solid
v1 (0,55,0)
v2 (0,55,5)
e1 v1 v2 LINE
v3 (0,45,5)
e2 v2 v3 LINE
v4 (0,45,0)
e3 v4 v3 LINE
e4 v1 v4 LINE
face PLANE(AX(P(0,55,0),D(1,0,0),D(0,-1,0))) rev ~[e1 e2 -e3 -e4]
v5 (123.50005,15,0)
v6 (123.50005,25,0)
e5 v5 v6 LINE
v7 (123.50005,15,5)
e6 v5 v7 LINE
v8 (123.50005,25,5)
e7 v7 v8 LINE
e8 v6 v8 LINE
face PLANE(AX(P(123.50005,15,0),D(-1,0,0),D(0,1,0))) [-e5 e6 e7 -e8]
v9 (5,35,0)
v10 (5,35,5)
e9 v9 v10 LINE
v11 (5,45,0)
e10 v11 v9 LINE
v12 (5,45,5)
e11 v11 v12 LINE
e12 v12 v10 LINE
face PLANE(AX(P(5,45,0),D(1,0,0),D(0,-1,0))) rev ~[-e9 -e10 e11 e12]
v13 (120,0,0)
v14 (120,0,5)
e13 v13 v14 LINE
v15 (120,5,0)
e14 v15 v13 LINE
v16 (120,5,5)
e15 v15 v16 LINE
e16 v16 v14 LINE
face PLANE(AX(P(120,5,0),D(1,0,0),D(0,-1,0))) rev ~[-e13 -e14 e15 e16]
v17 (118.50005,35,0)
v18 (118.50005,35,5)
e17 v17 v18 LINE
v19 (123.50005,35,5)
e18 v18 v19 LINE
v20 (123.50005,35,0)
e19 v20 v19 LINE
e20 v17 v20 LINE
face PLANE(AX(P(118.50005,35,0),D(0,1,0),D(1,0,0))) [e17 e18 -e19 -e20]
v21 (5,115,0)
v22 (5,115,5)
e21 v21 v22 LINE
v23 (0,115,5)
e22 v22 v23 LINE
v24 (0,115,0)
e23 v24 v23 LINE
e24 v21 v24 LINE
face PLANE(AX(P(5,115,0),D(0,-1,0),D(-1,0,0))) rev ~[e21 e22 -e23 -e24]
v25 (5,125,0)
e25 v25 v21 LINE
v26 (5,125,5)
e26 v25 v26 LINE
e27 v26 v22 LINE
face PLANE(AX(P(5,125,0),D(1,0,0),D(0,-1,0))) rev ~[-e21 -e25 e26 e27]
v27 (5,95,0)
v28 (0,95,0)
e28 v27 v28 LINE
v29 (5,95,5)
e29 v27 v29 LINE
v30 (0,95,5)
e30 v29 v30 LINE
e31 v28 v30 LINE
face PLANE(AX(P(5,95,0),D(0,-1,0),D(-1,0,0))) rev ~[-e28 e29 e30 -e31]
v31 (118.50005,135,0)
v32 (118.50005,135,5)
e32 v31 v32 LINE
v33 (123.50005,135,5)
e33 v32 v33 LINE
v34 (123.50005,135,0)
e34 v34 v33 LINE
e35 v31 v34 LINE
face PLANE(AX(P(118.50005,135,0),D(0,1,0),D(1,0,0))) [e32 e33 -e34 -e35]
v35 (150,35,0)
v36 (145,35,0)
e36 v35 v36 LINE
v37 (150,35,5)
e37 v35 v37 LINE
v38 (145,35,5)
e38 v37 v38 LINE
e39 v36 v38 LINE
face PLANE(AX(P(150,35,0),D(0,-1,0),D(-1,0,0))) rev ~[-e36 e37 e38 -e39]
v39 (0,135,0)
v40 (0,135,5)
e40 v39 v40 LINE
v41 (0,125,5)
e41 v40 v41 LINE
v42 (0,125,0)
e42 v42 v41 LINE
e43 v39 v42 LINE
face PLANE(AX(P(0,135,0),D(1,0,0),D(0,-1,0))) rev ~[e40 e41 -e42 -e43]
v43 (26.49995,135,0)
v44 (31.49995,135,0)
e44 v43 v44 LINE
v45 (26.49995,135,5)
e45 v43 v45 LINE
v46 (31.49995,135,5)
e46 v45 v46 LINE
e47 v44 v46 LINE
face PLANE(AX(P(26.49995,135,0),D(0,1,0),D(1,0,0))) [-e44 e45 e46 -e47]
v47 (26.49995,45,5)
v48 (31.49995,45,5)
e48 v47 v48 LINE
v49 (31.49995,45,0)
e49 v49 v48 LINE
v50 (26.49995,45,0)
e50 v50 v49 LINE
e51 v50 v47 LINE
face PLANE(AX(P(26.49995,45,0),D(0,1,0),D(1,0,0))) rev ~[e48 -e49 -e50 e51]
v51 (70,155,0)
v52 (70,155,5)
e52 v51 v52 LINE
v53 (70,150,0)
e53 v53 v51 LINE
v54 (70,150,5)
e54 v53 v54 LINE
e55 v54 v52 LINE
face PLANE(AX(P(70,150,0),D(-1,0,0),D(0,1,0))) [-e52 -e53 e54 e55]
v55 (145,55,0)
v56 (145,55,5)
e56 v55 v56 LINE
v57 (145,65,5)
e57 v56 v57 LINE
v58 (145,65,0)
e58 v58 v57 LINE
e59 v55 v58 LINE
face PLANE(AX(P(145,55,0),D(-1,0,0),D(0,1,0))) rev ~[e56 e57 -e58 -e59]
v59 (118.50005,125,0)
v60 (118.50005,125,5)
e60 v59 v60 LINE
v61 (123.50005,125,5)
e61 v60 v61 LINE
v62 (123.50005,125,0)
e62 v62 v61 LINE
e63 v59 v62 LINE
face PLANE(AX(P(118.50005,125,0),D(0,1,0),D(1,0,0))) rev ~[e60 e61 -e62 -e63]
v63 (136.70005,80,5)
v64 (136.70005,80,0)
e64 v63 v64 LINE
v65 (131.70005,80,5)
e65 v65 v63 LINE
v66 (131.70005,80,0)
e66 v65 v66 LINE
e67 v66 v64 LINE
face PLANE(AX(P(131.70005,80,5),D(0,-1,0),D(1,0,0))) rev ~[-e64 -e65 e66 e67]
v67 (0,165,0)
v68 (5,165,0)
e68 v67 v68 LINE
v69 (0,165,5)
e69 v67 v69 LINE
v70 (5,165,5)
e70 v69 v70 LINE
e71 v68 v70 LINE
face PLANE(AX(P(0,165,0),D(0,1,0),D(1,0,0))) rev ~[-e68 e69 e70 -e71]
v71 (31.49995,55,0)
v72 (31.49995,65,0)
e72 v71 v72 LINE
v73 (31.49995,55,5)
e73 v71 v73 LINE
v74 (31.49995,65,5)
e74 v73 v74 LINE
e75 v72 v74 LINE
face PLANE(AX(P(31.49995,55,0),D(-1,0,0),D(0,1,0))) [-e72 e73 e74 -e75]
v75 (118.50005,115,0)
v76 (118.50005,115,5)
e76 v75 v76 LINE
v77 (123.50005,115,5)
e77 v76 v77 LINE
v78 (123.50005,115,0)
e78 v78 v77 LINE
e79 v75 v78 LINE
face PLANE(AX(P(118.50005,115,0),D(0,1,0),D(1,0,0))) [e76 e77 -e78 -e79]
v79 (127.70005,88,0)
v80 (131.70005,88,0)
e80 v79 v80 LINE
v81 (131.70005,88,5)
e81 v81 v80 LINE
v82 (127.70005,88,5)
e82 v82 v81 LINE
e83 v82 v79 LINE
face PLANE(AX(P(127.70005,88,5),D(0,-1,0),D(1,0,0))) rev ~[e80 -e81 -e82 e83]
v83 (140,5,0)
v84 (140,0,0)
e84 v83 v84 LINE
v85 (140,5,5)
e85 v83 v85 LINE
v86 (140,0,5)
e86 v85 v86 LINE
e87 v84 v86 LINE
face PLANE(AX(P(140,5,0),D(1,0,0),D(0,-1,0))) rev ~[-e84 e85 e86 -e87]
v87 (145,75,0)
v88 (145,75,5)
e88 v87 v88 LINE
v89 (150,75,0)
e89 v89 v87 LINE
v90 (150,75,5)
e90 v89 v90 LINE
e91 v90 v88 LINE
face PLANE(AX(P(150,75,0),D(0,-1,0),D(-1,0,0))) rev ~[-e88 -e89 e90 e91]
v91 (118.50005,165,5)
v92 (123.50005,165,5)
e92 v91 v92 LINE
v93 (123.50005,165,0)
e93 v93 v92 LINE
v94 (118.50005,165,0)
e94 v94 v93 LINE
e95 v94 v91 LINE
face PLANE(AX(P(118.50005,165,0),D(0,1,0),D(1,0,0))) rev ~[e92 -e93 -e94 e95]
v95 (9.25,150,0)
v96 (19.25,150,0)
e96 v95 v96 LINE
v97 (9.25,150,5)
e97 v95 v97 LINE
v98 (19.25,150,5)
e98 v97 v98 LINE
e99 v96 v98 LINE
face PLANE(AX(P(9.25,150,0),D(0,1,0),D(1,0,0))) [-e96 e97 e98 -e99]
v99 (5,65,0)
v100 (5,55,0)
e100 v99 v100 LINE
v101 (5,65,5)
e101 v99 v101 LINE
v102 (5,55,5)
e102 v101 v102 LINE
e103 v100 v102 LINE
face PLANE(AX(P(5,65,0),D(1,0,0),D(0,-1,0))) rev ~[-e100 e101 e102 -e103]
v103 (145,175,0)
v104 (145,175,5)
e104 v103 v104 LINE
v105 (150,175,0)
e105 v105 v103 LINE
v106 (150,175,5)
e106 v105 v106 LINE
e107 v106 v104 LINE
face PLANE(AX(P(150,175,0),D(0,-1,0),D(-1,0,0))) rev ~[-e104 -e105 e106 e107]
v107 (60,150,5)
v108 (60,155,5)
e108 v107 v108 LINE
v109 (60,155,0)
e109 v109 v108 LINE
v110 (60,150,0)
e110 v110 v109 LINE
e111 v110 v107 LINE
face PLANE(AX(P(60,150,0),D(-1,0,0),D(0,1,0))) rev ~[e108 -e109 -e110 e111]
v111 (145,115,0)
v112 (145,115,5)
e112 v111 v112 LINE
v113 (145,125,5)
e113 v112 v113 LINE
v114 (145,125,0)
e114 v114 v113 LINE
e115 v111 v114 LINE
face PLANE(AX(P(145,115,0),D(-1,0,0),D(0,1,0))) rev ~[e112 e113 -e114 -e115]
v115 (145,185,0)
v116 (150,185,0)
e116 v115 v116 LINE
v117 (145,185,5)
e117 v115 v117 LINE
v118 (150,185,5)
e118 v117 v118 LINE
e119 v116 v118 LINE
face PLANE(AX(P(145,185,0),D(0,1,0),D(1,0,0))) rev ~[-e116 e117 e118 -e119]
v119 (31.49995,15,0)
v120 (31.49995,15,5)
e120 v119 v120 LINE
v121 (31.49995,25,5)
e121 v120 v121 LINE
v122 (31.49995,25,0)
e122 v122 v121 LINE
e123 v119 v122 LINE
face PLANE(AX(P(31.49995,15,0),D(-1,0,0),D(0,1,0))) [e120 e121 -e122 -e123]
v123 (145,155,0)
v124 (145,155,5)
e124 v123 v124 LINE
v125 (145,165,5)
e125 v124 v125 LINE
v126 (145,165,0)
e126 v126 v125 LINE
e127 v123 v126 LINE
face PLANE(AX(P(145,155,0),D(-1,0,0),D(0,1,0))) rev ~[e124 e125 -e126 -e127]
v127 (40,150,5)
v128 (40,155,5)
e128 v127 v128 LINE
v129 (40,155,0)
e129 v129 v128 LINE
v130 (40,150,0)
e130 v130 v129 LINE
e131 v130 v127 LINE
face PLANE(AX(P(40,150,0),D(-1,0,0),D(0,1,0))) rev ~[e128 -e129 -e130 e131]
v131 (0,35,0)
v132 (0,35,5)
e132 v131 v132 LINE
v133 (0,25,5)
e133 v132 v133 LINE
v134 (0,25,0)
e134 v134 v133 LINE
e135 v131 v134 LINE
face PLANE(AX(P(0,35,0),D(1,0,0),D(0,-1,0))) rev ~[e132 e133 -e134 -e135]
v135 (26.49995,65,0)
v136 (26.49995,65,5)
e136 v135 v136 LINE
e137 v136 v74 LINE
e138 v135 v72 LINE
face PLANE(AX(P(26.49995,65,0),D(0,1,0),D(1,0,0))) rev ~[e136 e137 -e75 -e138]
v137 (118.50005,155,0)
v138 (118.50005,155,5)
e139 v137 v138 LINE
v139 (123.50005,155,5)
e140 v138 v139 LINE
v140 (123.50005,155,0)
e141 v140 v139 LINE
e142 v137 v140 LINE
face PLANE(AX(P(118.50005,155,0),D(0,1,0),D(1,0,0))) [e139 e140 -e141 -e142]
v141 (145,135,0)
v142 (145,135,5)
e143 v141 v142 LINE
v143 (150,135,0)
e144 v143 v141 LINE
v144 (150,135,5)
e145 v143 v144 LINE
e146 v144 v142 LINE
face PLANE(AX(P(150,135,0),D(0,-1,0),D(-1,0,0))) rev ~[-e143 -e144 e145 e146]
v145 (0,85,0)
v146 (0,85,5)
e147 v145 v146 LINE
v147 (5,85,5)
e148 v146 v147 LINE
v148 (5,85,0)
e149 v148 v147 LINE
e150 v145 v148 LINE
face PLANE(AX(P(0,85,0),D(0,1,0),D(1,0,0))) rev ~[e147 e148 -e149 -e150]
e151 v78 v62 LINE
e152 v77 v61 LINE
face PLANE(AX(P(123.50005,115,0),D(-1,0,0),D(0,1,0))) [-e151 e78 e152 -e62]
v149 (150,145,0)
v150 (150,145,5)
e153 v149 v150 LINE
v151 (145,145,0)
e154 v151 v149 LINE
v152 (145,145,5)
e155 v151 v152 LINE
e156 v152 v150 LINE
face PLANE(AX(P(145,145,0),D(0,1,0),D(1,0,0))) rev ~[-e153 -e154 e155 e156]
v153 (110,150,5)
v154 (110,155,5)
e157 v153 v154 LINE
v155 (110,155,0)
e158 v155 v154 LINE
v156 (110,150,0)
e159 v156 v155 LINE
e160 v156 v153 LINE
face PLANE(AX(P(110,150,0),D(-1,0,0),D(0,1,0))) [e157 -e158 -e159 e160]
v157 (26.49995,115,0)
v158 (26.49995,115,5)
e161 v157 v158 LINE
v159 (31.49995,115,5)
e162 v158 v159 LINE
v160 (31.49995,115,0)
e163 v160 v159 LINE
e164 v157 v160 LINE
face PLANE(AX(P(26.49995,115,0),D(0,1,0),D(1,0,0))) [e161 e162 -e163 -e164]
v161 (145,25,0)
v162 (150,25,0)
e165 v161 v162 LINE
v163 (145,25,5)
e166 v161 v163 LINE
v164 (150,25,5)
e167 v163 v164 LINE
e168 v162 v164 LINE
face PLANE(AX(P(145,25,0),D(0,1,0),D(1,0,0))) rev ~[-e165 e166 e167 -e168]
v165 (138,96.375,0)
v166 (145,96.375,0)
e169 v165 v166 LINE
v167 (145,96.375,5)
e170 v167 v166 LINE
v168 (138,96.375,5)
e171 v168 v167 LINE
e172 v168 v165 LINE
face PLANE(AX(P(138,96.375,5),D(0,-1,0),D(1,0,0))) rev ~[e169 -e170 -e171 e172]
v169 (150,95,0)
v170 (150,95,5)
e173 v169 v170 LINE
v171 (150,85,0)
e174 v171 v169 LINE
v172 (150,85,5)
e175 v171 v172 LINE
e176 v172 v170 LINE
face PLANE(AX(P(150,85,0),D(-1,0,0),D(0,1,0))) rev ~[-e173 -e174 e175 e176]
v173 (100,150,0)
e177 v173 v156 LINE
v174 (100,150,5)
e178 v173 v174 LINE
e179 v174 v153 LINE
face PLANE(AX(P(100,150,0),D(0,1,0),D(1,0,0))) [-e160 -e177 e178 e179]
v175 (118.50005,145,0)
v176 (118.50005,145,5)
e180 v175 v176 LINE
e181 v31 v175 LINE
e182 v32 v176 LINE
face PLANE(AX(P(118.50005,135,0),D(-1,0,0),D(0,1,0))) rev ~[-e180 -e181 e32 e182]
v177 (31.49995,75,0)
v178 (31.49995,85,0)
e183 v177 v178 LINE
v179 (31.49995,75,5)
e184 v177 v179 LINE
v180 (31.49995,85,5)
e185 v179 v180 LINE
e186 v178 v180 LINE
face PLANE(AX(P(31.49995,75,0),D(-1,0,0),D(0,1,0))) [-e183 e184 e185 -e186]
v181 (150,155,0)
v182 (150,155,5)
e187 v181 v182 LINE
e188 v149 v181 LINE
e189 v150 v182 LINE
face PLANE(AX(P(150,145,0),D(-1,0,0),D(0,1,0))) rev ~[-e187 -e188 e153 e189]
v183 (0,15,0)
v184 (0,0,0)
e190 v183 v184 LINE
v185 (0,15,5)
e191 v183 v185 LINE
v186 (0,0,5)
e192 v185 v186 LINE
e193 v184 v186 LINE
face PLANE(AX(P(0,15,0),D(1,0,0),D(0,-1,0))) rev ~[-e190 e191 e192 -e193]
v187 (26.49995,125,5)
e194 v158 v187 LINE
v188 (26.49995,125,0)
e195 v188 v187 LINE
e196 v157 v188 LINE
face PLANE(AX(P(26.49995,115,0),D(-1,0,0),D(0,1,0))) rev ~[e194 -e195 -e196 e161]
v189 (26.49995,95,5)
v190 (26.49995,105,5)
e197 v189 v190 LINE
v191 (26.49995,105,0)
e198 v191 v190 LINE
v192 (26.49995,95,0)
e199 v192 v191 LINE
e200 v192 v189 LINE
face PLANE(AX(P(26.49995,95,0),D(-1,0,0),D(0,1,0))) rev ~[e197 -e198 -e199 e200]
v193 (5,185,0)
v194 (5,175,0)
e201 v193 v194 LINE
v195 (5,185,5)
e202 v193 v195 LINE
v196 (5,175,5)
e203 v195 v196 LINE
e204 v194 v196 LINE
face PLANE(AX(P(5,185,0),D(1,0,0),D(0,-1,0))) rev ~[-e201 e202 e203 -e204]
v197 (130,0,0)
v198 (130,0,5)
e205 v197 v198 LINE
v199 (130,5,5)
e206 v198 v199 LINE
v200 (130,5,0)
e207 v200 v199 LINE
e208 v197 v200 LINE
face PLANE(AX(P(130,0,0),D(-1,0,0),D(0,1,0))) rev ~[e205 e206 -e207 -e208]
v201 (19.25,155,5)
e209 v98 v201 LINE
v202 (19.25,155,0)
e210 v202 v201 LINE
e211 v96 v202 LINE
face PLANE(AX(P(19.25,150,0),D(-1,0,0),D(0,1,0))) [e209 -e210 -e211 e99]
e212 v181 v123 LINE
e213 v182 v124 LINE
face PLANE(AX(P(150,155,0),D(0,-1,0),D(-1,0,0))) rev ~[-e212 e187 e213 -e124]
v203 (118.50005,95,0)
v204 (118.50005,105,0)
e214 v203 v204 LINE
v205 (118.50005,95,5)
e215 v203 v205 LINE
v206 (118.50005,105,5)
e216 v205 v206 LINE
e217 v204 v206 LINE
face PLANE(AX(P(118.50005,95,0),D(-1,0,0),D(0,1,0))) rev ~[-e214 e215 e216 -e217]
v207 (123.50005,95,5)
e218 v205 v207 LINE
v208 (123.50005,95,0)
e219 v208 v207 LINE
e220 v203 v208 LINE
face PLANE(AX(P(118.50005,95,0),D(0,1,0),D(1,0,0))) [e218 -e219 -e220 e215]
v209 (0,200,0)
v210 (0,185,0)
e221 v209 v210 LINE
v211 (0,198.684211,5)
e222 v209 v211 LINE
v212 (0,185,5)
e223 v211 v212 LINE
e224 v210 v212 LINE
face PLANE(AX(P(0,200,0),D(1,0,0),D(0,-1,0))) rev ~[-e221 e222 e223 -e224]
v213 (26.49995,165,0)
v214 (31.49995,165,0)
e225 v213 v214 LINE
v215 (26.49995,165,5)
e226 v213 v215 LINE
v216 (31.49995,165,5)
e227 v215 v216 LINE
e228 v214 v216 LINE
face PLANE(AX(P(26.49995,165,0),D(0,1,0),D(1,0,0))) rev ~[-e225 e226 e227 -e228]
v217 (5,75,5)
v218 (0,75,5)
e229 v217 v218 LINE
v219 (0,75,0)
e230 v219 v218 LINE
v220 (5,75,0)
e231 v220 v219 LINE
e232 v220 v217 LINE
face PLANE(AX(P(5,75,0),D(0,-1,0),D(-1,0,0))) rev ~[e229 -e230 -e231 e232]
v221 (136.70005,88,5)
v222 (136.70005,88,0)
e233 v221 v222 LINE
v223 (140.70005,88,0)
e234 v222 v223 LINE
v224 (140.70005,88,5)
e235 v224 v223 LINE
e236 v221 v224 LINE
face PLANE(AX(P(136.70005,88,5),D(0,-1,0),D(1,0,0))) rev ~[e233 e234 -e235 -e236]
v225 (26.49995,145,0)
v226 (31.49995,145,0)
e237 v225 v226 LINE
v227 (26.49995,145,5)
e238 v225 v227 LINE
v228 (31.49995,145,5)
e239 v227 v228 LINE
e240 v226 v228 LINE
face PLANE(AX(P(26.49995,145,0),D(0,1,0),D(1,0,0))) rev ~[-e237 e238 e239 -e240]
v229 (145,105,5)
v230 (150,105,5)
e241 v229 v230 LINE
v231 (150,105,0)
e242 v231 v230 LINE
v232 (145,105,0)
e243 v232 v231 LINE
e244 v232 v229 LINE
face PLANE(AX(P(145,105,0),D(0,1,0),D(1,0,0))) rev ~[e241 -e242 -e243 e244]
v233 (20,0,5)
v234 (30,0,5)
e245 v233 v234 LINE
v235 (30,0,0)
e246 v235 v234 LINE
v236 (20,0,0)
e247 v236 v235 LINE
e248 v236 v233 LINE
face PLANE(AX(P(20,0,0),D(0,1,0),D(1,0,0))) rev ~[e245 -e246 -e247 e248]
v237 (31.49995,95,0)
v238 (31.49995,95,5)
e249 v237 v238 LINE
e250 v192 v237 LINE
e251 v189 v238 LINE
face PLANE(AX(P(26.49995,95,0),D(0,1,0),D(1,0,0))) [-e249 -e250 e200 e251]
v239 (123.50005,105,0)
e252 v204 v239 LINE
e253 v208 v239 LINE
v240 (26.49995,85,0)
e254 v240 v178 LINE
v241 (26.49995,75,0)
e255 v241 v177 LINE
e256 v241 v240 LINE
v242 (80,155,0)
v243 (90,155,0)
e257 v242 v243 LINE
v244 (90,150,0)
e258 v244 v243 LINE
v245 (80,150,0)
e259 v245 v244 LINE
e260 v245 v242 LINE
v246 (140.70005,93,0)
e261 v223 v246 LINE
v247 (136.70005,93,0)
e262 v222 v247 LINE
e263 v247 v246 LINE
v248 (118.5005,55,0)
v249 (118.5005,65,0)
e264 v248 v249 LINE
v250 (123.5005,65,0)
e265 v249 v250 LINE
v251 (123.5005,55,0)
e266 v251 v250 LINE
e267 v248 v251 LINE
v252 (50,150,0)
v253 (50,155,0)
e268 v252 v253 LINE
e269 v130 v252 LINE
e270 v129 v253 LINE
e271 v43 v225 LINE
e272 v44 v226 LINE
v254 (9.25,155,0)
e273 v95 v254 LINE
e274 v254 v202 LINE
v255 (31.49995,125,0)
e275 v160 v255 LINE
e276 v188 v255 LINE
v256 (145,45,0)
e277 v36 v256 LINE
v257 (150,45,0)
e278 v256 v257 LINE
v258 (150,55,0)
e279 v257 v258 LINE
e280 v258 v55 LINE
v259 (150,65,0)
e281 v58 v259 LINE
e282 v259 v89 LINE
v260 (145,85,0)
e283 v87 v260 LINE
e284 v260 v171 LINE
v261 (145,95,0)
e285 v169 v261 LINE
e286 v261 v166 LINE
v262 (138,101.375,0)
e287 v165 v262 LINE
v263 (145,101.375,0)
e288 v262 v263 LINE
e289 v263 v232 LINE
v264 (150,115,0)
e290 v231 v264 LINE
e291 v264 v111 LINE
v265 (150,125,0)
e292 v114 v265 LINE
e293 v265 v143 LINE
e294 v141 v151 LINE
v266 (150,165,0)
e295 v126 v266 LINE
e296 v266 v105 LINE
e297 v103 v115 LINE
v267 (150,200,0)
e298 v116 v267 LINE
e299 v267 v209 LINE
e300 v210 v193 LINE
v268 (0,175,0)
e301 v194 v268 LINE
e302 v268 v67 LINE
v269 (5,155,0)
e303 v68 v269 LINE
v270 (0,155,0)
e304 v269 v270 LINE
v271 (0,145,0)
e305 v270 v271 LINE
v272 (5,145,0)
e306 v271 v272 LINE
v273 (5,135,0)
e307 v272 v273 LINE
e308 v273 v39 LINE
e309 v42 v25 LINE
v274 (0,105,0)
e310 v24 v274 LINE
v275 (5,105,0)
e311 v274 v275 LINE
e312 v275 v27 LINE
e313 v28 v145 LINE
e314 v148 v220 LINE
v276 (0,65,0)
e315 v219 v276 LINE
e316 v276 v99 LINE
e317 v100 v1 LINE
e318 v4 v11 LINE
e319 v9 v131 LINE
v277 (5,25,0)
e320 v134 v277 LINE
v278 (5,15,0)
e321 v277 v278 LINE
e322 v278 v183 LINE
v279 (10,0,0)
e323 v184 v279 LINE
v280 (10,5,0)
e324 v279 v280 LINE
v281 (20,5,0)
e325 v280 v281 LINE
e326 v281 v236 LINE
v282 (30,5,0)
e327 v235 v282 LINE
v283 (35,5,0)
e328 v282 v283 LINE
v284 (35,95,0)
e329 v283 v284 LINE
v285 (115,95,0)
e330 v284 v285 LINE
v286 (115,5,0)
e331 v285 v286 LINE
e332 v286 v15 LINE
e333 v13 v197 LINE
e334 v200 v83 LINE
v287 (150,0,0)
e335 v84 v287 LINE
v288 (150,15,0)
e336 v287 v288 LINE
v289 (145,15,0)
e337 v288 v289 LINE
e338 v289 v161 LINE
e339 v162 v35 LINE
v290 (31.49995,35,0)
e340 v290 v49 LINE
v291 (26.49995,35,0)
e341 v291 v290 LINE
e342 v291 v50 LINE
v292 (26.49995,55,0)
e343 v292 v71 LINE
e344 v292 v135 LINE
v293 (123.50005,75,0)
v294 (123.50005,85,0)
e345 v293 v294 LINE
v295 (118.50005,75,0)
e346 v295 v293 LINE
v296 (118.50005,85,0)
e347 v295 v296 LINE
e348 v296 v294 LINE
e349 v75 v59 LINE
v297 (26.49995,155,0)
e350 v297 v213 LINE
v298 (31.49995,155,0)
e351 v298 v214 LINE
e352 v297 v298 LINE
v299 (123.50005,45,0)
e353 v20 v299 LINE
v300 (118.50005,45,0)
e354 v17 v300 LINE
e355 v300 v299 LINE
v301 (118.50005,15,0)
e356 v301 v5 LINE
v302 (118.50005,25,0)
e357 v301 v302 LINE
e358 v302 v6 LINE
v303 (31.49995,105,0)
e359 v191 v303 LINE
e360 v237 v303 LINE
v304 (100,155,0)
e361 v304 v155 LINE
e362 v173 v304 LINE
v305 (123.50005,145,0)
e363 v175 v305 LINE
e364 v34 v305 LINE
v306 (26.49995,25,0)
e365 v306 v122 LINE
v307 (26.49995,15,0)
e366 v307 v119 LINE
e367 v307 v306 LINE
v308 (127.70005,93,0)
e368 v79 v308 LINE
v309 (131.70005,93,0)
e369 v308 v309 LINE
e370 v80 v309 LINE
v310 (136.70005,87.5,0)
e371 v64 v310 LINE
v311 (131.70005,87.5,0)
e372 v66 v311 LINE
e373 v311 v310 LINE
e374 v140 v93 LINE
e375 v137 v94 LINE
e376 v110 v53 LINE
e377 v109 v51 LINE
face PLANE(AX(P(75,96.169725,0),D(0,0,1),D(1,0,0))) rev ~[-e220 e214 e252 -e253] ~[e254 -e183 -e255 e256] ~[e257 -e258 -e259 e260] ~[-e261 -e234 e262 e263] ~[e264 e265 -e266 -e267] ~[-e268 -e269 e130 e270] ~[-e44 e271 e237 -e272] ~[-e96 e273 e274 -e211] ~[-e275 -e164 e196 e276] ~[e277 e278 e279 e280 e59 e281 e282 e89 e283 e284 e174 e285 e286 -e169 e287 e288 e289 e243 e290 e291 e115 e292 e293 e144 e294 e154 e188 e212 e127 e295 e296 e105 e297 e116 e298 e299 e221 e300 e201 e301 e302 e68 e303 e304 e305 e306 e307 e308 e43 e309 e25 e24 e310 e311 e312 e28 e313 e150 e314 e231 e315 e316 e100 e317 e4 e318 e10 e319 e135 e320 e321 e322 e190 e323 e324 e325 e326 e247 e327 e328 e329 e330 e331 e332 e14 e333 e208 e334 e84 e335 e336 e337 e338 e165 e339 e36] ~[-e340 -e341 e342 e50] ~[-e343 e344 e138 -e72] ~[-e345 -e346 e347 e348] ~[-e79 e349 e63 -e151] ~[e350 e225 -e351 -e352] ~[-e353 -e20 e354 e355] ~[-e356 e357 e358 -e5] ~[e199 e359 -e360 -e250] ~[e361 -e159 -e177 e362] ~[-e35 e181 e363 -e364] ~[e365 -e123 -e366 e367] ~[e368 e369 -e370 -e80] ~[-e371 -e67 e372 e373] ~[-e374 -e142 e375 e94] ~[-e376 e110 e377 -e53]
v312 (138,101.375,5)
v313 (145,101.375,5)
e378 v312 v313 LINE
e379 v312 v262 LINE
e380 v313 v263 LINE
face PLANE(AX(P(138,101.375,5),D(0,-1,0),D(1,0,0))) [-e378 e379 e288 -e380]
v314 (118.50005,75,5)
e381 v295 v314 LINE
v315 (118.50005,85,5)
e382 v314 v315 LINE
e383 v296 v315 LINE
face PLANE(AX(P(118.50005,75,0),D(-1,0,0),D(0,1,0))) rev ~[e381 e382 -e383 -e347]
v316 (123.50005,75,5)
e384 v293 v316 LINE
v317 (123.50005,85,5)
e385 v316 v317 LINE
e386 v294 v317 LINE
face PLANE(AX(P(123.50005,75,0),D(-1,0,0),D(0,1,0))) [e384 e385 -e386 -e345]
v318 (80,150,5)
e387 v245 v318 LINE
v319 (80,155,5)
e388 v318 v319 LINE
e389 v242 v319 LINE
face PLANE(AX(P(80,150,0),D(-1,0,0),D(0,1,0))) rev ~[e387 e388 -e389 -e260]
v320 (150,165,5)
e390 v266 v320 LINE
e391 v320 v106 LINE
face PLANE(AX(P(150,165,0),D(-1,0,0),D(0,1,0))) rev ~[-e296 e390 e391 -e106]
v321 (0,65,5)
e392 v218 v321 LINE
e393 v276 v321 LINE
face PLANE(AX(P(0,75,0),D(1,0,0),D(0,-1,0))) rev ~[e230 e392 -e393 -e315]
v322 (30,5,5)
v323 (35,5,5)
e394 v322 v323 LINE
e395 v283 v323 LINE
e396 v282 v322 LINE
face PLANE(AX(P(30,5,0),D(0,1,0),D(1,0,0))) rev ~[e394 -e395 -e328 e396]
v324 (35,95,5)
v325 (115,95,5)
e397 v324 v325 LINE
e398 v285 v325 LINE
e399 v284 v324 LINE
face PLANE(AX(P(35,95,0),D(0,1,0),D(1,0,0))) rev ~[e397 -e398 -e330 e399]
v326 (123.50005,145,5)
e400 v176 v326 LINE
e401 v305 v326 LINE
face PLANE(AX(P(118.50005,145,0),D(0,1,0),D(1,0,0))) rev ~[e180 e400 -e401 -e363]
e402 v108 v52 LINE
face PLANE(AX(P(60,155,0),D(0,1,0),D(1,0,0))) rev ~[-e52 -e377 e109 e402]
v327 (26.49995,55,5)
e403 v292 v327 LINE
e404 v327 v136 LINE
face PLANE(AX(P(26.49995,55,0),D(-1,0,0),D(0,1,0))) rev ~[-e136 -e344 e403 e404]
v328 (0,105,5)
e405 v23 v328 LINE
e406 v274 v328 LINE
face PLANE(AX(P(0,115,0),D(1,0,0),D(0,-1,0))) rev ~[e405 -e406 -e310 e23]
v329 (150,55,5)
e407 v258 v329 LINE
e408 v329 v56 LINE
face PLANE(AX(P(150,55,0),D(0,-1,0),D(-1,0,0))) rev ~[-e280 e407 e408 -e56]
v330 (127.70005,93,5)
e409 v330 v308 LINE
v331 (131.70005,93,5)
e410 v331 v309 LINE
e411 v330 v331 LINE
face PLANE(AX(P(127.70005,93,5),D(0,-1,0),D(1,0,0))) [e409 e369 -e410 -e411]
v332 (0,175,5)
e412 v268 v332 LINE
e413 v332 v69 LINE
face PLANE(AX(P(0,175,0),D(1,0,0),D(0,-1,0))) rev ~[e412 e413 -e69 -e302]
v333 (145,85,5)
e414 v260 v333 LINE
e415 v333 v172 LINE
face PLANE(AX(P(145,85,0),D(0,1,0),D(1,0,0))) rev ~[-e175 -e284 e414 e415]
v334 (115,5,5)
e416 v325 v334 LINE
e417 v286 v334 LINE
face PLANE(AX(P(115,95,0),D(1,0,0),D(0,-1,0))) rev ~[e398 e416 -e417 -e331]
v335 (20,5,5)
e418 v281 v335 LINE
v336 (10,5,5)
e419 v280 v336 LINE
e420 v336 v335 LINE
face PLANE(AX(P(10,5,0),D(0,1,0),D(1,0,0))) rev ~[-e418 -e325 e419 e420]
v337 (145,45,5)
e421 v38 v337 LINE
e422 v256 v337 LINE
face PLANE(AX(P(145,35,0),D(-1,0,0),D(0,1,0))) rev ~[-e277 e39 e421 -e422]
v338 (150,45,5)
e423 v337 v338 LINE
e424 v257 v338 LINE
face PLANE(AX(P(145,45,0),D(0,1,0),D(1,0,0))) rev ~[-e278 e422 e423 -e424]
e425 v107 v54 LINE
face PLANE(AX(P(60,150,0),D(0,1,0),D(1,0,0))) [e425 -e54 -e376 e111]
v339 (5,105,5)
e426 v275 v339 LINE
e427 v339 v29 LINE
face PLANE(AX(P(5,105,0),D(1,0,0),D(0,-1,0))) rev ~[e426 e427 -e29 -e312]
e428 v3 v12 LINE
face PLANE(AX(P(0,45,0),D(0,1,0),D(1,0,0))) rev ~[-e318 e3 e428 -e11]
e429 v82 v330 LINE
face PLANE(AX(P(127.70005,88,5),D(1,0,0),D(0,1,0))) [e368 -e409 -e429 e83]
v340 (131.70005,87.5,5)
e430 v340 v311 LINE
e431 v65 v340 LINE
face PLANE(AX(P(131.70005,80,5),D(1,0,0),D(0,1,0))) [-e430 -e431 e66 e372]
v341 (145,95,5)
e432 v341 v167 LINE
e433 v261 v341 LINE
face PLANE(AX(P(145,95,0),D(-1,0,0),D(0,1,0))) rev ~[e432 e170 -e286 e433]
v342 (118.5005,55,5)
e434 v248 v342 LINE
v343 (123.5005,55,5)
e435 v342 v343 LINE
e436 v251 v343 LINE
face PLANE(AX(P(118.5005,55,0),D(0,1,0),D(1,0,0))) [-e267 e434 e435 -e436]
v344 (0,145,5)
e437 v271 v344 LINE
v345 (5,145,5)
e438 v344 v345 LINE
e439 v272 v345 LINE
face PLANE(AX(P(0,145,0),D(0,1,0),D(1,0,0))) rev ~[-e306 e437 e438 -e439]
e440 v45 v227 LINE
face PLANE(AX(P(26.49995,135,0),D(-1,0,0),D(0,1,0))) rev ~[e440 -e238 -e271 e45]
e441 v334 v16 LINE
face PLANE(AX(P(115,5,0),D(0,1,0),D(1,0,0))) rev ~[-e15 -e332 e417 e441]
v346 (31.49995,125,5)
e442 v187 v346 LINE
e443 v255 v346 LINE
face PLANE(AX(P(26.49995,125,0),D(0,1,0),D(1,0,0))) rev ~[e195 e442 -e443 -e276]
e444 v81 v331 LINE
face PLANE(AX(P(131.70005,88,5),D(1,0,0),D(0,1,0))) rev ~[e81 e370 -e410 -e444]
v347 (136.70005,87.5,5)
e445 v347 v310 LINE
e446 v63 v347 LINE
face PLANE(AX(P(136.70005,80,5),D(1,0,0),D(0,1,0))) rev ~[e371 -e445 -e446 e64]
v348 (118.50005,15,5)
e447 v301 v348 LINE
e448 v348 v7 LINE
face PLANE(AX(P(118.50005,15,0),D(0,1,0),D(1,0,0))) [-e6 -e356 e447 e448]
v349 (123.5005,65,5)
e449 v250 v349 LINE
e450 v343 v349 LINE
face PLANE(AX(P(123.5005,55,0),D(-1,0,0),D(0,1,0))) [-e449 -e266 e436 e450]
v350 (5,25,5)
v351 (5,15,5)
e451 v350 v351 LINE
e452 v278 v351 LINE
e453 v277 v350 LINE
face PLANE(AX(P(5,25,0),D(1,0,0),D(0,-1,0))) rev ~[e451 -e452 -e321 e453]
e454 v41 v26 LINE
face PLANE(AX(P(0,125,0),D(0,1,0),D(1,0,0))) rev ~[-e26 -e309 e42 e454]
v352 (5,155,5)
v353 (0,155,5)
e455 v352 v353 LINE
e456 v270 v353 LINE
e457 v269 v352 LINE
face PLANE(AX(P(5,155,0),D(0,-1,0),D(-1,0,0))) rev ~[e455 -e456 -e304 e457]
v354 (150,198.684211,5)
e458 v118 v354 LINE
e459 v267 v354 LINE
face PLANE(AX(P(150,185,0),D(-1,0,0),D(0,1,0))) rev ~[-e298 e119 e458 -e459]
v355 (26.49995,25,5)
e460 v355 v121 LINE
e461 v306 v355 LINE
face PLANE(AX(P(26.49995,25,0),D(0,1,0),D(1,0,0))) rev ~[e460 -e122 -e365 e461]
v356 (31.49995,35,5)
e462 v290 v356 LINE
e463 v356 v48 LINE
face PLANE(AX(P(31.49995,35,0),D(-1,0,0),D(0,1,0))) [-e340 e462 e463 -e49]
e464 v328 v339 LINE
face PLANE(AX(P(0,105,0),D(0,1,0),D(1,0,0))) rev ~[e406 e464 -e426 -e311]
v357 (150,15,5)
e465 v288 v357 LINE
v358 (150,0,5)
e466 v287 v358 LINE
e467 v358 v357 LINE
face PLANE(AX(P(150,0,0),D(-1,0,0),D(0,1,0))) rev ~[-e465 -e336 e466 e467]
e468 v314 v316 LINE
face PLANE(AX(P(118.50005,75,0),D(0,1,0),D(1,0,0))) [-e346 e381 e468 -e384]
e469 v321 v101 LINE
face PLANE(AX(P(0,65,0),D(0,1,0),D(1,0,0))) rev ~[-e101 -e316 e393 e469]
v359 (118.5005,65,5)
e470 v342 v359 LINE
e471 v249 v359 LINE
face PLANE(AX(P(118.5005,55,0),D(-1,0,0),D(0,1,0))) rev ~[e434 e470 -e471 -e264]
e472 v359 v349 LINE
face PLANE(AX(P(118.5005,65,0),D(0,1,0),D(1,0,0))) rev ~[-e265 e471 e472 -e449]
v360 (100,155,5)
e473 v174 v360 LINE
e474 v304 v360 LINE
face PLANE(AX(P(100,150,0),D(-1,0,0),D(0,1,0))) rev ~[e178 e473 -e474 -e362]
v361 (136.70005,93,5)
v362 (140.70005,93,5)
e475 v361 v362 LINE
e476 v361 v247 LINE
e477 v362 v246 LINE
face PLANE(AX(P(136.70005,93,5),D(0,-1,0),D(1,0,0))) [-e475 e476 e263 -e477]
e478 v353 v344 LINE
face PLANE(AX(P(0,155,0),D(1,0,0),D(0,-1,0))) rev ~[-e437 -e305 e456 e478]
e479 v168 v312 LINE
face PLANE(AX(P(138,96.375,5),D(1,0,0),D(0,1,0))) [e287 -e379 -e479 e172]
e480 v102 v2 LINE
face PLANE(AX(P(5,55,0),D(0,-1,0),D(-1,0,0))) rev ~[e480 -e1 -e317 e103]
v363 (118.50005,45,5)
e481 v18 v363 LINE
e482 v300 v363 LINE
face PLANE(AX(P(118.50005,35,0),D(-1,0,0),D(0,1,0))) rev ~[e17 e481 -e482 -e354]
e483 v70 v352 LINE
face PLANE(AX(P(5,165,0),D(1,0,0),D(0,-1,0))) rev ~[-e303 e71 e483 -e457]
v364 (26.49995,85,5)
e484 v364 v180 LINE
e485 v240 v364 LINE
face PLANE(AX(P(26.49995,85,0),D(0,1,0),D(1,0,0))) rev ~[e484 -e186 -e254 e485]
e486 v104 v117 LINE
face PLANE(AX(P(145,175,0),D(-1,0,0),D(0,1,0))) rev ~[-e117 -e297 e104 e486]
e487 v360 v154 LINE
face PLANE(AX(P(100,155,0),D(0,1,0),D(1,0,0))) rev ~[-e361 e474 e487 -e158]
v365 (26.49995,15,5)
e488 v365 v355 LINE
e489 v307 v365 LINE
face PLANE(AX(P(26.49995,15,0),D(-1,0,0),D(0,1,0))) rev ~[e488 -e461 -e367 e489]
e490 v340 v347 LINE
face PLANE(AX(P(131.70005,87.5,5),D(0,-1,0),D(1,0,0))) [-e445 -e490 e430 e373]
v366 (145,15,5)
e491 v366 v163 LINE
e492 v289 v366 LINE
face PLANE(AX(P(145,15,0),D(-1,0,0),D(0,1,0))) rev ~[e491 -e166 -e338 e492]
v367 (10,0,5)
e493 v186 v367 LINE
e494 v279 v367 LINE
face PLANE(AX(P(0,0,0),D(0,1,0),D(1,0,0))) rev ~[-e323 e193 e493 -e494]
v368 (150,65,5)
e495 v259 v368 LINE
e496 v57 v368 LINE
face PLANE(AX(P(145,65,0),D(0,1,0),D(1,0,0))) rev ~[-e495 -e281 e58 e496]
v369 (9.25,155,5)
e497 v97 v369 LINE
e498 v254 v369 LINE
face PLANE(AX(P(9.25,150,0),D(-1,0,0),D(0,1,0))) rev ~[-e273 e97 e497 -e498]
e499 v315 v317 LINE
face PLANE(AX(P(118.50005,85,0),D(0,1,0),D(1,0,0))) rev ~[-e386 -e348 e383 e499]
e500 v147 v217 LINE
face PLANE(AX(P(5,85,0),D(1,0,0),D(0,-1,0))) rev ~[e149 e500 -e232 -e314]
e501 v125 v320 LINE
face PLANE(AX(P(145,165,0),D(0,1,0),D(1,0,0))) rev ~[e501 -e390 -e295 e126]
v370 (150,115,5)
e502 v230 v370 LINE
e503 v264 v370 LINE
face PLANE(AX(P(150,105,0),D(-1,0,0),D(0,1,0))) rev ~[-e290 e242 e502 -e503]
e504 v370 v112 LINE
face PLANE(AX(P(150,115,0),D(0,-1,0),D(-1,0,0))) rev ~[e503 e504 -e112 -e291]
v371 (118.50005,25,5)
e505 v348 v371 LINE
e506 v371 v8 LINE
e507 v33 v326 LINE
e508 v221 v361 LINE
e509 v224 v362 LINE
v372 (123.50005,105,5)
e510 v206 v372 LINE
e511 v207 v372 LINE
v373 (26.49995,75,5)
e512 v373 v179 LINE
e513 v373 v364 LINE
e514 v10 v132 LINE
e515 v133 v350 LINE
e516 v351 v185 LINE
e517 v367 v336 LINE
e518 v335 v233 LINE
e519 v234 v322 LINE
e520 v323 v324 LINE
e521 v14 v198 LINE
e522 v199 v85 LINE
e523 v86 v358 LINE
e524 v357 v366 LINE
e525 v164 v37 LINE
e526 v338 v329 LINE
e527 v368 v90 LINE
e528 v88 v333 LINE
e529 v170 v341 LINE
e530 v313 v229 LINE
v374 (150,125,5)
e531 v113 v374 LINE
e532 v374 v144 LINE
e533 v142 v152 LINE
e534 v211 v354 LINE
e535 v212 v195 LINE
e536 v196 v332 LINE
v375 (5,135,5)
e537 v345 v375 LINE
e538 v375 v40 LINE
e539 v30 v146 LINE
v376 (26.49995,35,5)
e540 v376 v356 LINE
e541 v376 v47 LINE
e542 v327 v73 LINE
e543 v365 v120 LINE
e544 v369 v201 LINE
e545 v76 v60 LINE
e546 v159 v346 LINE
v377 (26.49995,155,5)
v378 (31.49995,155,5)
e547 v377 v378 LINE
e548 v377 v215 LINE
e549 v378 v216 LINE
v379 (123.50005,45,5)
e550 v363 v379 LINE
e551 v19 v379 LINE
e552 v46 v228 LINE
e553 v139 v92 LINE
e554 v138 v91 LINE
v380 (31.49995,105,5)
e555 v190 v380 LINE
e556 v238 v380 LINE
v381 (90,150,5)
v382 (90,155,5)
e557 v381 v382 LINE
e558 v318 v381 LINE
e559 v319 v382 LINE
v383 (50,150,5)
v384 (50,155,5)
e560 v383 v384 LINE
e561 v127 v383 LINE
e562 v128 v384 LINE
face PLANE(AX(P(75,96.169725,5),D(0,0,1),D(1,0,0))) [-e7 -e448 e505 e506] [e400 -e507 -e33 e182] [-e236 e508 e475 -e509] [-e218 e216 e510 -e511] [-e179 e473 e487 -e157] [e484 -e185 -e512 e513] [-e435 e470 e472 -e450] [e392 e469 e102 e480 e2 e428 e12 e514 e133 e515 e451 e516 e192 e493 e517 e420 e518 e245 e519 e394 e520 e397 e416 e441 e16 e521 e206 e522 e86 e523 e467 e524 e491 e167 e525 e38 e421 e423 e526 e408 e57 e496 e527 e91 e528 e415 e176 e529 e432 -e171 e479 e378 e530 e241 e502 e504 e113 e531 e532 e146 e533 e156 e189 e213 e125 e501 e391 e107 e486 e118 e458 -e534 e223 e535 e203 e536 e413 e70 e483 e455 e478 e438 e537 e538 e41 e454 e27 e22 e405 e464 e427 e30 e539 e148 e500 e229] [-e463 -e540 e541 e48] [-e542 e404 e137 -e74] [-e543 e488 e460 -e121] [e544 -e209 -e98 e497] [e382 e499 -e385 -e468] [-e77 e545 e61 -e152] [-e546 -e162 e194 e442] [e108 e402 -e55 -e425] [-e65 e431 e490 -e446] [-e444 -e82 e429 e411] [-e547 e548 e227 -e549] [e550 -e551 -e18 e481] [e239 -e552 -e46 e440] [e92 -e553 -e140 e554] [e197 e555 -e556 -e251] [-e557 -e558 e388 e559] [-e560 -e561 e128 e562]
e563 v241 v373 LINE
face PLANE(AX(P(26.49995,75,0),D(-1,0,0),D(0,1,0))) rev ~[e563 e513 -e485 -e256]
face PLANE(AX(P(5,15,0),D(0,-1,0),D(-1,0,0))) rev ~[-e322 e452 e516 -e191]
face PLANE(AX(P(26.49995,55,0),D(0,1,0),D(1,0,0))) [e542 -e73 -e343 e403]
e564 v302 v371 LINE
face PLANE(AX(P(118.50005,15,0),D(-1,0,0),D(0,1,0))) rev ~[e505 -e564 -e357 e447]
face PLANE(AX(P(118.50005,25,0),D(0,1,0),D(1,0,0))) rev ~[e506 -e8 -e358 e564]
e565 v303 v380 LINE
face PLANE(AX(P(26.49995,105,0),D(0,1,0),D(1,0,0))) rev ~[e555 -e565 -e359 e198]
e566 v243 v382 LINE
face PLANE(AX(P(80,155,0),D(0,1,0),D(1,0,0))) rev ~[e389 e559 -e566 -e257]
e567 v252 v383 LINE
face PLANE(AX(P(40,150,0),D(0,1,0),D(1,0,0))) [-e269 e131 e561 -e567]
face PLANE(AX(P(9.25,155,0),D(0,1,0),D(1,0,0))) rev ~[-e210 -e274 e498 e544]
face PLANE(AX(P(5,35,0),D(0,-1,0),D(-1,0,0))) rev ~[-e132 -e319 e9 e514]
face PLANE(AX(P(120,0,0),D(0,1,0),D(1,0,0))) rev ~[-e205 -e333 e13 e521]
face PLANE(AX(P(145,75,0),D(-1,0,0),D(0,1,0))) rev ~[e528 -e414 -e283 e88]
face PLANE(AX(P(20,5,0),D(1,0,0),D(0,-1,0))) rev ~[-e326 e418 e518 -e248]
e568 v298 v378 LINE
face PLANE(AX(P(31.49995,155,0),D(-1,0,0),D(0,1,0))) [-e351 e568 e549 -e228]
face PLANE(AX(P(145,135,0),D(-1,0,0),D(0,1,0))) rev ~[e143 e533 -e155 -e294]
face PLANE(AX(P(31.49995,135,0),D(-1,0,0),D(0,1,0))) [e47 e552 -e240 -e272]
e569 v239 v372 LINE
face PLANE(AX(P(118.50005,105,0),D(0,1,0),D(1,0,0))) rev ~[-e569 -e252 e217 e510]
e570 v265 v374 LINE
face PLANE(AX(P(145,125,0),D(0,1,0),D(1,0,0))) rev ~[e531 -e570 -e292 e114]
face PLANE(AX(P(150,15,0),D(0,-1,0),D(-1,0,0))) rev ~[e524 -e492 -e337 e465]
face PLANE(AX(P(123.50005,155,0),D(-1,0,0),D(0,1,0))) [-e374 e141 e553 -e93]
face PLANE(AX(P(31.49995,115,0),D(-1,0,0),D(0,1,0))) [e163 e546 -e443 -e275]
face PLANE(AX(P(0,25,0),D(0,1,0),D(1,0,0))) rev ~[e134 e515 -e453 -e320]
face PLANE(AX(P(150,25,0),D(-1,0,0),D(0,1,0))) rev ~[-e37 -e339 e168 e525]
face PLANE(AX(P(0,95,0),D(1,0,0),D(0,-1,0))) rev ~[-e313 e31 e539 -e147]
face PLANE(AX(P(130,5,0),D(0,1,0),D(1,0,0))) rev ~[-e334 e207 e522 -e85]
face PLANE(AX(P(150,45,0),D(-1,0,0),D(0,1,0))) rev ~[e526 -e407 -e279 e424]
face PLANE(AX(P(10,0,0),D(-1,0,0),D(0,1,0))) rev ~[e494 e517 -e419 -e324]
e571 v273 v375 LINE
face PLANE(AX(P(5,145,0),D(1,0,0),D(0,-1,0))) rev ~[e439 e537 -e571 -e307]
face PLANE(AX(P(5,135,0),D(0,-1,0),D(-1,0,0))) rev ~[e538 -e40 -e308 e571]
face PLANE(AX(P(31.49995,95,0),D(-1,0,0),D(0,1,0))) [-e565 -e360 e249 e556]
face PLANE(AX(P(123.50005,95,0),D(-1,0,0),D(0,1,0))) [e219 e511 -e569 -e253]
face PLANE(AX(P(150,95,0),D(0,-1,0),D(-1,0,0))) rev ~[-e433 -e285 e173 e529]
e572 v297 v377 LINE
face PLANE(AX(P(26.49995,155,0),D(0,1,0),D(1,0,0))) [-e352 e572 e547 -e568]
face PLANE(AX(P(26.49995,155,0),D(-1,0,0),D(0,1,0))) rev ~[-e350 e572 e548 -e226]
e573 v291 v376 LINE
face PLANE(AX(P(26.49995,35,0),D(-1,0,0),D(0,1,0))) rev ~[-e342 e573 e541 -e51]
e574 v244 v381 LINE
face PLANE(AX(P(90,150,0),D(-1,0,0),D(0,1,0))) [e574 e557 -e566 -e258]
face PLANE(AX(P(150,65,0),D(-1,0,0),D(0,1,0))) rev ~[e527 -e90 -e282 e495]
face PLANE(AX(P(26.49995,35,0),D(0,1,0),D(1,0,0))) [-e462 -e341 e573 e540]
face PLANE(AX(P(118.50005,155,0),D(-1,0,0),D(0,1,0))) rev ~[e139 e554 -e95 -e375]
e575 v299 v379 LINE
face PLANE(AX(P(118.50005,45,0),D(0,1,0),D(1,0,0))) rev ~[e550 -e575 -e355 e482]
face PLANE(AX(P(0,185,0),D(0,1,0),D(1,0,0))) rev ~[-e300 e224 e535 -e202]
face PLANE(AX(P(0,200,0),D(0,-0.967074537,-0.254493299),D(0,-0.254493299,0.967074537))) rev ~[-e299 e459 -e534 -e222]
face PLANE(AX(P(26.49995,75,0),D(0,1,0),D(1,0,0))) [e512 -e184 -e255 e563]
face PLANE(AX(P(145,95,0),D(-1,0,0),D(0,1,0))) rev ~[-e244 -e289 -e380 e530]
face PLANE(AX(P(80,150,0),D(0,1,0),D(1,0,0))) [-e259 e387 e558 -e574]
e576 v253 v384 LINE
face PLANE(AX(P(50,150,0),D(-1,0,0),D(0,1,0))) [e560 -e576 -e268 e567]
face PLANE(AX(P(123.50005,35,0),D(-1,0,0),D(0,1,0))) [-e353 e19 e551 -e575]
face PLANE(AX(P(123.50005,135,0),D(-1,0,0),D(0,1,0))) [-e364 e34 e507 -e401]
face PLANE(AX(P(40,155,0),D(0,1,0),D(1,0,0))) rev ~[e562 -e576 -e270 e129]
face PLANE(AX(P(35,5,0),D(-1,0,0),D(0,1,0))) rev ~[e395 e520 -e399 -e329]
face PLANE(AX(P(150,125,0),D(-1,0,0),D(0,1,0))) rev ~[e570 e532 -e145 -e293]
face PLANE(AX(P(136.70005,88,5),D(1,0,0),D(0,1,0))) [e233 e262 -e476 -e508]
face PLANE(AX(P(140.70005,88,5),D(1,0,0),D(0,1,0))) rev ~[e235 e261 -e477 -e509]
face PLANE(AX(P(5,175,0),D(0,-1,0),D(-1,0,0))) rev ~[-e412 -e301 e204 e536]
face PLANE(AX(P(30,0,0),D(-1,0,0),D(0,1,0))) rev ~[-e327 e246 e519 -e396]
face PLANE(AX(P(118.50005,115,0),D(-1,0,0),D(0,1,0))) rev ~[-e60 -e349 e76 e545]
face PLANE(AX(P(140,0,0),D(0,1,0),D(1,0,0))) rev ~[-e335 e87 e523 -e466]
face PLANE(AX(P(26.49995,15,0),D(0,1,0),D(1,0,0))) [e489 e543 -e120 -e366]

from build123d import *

# Parameters (mm, degrees)
CROQUIS1_W              = 5
CROQUIS1_H              = 10
CROQUIS1_W_2            = 10
CROQUIS1_H_2            = 5
SALIENTE_EXTRUIR1_DEPTH = 5
CORTAR_EXTRUIR7_DEPTH   = 151
CROQUIS8_W              = 4
CROQUIS8_H              = 5
CROQUIS8_W_2            = 5
CROQUIS8_H_2            = 7.5
CROQUIS8_W_3            = 7
CORTAR_EXTRUIR12_DEPTH  = 10


with BuildPart() as part:
    # Croquis1 → Saliente-Extruir1 (new body)
    with BuildSketch(Plane.XY):
        Polygon((0, 0), (10, 0), (10, 5), (20, 5), (20, 0), (30, 0), (30, 5), (35, 5), (35, 95), (115, 95), (115, 5), (117.5, 5), (120, 5), (120, 0), (130, 0), (130, 5), (140, 5), (140, 0), (150, 0), (150, 15), (145, 15), (145, 25), (150, 25), (150, 35), (145, 35), (145, 45), (150, 45), (150, 55), (145, 55), (145, 65), (150, 65), (150, 75), (145, 75), (145, 85), (150, 85), (150, 95), (145, 95), (145, 105), (150, 105), (150, 115), (145, 115), (145, 125), (150, 125), (150, 135), (145, 135), (145, 145), (150, 145), (150, 155), (145, 155), (145, 165), (150, 165), (150, 175), (145, 175), (145, 185), (150, 185), (150, 200), (0, 200), (0, 185), (5, 185), (5, 175), (0, 175), (0, 165), (5, 165), (5, 155), (0, 155), (0, 145), (5, 145), (5, 135), (0, 135), (0, 125), (5, 125), (5, 115), (0, 115), (0, 105), (5, 105), (5, 95), (0, 95), (0, 85), (5, 85), (5, 75), (0, 75), (0, 65), (5, 65), (5, 55), (0, 55), (0, 45), (5, 45), (5, 35), (0, 35), (0, 25), (5, 25), (5, 15), (0, 15), align=None)
        with Locations((28.99995, 20)):
            Rectangle(CROQUIS1_W, CROQUIS1_H, mode=Mode.SUBTRACT)
        with Locations((28.99995, 40)):
            Rectangle(CROQUIS1_W, CROQUIS1_H, mode=Mode.SUBTRACT)
        with Locations((28.99995, 60)):
            Rectangle(CROQUIS1_W, CROQUIS1_H, mode=Mode.SUBTRACT)
        with Locations((28.99995, 80)):
            Rectangle(CROQUIS1_W, CROQUIS1_H, mode=Mode.SUBTRACT)
        with Locations((28.99995, 100)):
            Rectangle(CROQUIS1_W, CROQUIS1_H, mode=Mode.SUBTRACT)
        with Locations((121.00005, 20)):
            Rectangle(CROQUIS1_W, CROQUIS1_H, mode=Mode.SUBTRACT)
        with Locations((121.00005, 40)):
            Rectangle(CROQUIS1_W, CROQUIS1_H, mode=Mode.SUBTRACT)
        with Locations((121.0005, 60)):
            Rectangle(CROQUIS1_W, CROQUIS1_H, mode=Mode.SUBTRACT)
        with Locations((121.00005, 80)):
            Rectangle(CROQUIS1_W, CROQUIS1_H, mode=Mode.SUBTRACT)
        with Locations((121.00005, 100)):
            Rectangle(CROQUIS1_W, CROQUIS1_H, mode=Mode.SUBTRACT)
        with Locations((28.99995, 120)):
            Rectangle(CROQUIS1_W, CROQUIS1_H, mode=Mode.SUBTRACT)
        with Locations((28.99995, 140)):
            Rectangle(CROQUIS1_W, CROQUIS1_H, mode=Mode.SUBTRACT)
        with Locations((14.25, 152.5)):
            Rectangle(CROQUIS1_W_2, CROQUIS1_H_2, mode=Mode.SUBTRACT)
        with Locations((28.99995, 160)):
            Rectangle(CROQUIS1_W, CROQUIS1_H, mode=Mode.SUBTRACT)
        with Locations((45, 152.5)):
            Rectangle(CROQUIS1_W_2, CROQUIS1_H_2, mode=Mode.SUBTRACT)
        with Locations((65, 152.5)):
            Rectangle(CROQUIS1_W_2, CROQUIS1_H_2, mode=Mode.SUBTRACT)
        with Locations((121.00005, 120)):
            Rectangle(CROQUIS1_W, CROQUIS1_H, mode=Mode.SUBTRACT)
        with Locations((121.00005, 140)):
            Rectangle(CROQUIS1_W, CROQUIS1_H, mode=Mode.SUBTRACT)
        with Locations((85, 152.5)):
            Rectangle(CROQUIS1_W_2, CROQUIS1_H_2, mode=Mode.SUBTRACT)
        with Locations((105, 152.5)):
            Rectangle(CROQUIS1_W_2, CROQUIS1_H_2, mode=Mode.SUBTRACT)
        with Locations((121.00005, 160)):
            Rectangle(CROQUIS1_W, CROQUIS1_H, mode=Mode.SUBTRACT)
    extrude(amount=SALIENTE_EXTRUIR1_DEPTH)

    # Croquis7 → Cortar-Extruir7 (cut, through all)
    with BuildSketch(Plane.ZY):
        Polygon((0, 200), (5.317351356, 198.600697011), (5, 200), align=None)
    extrude(amount=-CORTAR_EXTRUIR7_DEPTH, mode=Mode.SUBTRACT)

    # Croquis8 → Cortar-Extruir12 (cut)
    with BuildSketch(Plane.XY.offset(5)):
        with Locations((129.70005, 90.5)):
            Rectangle(CROQUIS8_W, CROQUIS8_H)
        with Locations((134.20005, 83.75)):
            Rectangle(CROQUIS8_W_2, CROQUIS8_H_2)
        with Locations((138.70005, 90.5)):
            Rectangle(CROQUIS8_W, CROQUIS8_H)
        with Locations((141.5, 98.875)):
            Rectangle(CROQUIS8_W_3, CROQUIS8_H)
    extrude(amount=-CORTAR_EXTRUIR12_DEPTH, mode=Mode.SUBTRACT)


solid = part.part
